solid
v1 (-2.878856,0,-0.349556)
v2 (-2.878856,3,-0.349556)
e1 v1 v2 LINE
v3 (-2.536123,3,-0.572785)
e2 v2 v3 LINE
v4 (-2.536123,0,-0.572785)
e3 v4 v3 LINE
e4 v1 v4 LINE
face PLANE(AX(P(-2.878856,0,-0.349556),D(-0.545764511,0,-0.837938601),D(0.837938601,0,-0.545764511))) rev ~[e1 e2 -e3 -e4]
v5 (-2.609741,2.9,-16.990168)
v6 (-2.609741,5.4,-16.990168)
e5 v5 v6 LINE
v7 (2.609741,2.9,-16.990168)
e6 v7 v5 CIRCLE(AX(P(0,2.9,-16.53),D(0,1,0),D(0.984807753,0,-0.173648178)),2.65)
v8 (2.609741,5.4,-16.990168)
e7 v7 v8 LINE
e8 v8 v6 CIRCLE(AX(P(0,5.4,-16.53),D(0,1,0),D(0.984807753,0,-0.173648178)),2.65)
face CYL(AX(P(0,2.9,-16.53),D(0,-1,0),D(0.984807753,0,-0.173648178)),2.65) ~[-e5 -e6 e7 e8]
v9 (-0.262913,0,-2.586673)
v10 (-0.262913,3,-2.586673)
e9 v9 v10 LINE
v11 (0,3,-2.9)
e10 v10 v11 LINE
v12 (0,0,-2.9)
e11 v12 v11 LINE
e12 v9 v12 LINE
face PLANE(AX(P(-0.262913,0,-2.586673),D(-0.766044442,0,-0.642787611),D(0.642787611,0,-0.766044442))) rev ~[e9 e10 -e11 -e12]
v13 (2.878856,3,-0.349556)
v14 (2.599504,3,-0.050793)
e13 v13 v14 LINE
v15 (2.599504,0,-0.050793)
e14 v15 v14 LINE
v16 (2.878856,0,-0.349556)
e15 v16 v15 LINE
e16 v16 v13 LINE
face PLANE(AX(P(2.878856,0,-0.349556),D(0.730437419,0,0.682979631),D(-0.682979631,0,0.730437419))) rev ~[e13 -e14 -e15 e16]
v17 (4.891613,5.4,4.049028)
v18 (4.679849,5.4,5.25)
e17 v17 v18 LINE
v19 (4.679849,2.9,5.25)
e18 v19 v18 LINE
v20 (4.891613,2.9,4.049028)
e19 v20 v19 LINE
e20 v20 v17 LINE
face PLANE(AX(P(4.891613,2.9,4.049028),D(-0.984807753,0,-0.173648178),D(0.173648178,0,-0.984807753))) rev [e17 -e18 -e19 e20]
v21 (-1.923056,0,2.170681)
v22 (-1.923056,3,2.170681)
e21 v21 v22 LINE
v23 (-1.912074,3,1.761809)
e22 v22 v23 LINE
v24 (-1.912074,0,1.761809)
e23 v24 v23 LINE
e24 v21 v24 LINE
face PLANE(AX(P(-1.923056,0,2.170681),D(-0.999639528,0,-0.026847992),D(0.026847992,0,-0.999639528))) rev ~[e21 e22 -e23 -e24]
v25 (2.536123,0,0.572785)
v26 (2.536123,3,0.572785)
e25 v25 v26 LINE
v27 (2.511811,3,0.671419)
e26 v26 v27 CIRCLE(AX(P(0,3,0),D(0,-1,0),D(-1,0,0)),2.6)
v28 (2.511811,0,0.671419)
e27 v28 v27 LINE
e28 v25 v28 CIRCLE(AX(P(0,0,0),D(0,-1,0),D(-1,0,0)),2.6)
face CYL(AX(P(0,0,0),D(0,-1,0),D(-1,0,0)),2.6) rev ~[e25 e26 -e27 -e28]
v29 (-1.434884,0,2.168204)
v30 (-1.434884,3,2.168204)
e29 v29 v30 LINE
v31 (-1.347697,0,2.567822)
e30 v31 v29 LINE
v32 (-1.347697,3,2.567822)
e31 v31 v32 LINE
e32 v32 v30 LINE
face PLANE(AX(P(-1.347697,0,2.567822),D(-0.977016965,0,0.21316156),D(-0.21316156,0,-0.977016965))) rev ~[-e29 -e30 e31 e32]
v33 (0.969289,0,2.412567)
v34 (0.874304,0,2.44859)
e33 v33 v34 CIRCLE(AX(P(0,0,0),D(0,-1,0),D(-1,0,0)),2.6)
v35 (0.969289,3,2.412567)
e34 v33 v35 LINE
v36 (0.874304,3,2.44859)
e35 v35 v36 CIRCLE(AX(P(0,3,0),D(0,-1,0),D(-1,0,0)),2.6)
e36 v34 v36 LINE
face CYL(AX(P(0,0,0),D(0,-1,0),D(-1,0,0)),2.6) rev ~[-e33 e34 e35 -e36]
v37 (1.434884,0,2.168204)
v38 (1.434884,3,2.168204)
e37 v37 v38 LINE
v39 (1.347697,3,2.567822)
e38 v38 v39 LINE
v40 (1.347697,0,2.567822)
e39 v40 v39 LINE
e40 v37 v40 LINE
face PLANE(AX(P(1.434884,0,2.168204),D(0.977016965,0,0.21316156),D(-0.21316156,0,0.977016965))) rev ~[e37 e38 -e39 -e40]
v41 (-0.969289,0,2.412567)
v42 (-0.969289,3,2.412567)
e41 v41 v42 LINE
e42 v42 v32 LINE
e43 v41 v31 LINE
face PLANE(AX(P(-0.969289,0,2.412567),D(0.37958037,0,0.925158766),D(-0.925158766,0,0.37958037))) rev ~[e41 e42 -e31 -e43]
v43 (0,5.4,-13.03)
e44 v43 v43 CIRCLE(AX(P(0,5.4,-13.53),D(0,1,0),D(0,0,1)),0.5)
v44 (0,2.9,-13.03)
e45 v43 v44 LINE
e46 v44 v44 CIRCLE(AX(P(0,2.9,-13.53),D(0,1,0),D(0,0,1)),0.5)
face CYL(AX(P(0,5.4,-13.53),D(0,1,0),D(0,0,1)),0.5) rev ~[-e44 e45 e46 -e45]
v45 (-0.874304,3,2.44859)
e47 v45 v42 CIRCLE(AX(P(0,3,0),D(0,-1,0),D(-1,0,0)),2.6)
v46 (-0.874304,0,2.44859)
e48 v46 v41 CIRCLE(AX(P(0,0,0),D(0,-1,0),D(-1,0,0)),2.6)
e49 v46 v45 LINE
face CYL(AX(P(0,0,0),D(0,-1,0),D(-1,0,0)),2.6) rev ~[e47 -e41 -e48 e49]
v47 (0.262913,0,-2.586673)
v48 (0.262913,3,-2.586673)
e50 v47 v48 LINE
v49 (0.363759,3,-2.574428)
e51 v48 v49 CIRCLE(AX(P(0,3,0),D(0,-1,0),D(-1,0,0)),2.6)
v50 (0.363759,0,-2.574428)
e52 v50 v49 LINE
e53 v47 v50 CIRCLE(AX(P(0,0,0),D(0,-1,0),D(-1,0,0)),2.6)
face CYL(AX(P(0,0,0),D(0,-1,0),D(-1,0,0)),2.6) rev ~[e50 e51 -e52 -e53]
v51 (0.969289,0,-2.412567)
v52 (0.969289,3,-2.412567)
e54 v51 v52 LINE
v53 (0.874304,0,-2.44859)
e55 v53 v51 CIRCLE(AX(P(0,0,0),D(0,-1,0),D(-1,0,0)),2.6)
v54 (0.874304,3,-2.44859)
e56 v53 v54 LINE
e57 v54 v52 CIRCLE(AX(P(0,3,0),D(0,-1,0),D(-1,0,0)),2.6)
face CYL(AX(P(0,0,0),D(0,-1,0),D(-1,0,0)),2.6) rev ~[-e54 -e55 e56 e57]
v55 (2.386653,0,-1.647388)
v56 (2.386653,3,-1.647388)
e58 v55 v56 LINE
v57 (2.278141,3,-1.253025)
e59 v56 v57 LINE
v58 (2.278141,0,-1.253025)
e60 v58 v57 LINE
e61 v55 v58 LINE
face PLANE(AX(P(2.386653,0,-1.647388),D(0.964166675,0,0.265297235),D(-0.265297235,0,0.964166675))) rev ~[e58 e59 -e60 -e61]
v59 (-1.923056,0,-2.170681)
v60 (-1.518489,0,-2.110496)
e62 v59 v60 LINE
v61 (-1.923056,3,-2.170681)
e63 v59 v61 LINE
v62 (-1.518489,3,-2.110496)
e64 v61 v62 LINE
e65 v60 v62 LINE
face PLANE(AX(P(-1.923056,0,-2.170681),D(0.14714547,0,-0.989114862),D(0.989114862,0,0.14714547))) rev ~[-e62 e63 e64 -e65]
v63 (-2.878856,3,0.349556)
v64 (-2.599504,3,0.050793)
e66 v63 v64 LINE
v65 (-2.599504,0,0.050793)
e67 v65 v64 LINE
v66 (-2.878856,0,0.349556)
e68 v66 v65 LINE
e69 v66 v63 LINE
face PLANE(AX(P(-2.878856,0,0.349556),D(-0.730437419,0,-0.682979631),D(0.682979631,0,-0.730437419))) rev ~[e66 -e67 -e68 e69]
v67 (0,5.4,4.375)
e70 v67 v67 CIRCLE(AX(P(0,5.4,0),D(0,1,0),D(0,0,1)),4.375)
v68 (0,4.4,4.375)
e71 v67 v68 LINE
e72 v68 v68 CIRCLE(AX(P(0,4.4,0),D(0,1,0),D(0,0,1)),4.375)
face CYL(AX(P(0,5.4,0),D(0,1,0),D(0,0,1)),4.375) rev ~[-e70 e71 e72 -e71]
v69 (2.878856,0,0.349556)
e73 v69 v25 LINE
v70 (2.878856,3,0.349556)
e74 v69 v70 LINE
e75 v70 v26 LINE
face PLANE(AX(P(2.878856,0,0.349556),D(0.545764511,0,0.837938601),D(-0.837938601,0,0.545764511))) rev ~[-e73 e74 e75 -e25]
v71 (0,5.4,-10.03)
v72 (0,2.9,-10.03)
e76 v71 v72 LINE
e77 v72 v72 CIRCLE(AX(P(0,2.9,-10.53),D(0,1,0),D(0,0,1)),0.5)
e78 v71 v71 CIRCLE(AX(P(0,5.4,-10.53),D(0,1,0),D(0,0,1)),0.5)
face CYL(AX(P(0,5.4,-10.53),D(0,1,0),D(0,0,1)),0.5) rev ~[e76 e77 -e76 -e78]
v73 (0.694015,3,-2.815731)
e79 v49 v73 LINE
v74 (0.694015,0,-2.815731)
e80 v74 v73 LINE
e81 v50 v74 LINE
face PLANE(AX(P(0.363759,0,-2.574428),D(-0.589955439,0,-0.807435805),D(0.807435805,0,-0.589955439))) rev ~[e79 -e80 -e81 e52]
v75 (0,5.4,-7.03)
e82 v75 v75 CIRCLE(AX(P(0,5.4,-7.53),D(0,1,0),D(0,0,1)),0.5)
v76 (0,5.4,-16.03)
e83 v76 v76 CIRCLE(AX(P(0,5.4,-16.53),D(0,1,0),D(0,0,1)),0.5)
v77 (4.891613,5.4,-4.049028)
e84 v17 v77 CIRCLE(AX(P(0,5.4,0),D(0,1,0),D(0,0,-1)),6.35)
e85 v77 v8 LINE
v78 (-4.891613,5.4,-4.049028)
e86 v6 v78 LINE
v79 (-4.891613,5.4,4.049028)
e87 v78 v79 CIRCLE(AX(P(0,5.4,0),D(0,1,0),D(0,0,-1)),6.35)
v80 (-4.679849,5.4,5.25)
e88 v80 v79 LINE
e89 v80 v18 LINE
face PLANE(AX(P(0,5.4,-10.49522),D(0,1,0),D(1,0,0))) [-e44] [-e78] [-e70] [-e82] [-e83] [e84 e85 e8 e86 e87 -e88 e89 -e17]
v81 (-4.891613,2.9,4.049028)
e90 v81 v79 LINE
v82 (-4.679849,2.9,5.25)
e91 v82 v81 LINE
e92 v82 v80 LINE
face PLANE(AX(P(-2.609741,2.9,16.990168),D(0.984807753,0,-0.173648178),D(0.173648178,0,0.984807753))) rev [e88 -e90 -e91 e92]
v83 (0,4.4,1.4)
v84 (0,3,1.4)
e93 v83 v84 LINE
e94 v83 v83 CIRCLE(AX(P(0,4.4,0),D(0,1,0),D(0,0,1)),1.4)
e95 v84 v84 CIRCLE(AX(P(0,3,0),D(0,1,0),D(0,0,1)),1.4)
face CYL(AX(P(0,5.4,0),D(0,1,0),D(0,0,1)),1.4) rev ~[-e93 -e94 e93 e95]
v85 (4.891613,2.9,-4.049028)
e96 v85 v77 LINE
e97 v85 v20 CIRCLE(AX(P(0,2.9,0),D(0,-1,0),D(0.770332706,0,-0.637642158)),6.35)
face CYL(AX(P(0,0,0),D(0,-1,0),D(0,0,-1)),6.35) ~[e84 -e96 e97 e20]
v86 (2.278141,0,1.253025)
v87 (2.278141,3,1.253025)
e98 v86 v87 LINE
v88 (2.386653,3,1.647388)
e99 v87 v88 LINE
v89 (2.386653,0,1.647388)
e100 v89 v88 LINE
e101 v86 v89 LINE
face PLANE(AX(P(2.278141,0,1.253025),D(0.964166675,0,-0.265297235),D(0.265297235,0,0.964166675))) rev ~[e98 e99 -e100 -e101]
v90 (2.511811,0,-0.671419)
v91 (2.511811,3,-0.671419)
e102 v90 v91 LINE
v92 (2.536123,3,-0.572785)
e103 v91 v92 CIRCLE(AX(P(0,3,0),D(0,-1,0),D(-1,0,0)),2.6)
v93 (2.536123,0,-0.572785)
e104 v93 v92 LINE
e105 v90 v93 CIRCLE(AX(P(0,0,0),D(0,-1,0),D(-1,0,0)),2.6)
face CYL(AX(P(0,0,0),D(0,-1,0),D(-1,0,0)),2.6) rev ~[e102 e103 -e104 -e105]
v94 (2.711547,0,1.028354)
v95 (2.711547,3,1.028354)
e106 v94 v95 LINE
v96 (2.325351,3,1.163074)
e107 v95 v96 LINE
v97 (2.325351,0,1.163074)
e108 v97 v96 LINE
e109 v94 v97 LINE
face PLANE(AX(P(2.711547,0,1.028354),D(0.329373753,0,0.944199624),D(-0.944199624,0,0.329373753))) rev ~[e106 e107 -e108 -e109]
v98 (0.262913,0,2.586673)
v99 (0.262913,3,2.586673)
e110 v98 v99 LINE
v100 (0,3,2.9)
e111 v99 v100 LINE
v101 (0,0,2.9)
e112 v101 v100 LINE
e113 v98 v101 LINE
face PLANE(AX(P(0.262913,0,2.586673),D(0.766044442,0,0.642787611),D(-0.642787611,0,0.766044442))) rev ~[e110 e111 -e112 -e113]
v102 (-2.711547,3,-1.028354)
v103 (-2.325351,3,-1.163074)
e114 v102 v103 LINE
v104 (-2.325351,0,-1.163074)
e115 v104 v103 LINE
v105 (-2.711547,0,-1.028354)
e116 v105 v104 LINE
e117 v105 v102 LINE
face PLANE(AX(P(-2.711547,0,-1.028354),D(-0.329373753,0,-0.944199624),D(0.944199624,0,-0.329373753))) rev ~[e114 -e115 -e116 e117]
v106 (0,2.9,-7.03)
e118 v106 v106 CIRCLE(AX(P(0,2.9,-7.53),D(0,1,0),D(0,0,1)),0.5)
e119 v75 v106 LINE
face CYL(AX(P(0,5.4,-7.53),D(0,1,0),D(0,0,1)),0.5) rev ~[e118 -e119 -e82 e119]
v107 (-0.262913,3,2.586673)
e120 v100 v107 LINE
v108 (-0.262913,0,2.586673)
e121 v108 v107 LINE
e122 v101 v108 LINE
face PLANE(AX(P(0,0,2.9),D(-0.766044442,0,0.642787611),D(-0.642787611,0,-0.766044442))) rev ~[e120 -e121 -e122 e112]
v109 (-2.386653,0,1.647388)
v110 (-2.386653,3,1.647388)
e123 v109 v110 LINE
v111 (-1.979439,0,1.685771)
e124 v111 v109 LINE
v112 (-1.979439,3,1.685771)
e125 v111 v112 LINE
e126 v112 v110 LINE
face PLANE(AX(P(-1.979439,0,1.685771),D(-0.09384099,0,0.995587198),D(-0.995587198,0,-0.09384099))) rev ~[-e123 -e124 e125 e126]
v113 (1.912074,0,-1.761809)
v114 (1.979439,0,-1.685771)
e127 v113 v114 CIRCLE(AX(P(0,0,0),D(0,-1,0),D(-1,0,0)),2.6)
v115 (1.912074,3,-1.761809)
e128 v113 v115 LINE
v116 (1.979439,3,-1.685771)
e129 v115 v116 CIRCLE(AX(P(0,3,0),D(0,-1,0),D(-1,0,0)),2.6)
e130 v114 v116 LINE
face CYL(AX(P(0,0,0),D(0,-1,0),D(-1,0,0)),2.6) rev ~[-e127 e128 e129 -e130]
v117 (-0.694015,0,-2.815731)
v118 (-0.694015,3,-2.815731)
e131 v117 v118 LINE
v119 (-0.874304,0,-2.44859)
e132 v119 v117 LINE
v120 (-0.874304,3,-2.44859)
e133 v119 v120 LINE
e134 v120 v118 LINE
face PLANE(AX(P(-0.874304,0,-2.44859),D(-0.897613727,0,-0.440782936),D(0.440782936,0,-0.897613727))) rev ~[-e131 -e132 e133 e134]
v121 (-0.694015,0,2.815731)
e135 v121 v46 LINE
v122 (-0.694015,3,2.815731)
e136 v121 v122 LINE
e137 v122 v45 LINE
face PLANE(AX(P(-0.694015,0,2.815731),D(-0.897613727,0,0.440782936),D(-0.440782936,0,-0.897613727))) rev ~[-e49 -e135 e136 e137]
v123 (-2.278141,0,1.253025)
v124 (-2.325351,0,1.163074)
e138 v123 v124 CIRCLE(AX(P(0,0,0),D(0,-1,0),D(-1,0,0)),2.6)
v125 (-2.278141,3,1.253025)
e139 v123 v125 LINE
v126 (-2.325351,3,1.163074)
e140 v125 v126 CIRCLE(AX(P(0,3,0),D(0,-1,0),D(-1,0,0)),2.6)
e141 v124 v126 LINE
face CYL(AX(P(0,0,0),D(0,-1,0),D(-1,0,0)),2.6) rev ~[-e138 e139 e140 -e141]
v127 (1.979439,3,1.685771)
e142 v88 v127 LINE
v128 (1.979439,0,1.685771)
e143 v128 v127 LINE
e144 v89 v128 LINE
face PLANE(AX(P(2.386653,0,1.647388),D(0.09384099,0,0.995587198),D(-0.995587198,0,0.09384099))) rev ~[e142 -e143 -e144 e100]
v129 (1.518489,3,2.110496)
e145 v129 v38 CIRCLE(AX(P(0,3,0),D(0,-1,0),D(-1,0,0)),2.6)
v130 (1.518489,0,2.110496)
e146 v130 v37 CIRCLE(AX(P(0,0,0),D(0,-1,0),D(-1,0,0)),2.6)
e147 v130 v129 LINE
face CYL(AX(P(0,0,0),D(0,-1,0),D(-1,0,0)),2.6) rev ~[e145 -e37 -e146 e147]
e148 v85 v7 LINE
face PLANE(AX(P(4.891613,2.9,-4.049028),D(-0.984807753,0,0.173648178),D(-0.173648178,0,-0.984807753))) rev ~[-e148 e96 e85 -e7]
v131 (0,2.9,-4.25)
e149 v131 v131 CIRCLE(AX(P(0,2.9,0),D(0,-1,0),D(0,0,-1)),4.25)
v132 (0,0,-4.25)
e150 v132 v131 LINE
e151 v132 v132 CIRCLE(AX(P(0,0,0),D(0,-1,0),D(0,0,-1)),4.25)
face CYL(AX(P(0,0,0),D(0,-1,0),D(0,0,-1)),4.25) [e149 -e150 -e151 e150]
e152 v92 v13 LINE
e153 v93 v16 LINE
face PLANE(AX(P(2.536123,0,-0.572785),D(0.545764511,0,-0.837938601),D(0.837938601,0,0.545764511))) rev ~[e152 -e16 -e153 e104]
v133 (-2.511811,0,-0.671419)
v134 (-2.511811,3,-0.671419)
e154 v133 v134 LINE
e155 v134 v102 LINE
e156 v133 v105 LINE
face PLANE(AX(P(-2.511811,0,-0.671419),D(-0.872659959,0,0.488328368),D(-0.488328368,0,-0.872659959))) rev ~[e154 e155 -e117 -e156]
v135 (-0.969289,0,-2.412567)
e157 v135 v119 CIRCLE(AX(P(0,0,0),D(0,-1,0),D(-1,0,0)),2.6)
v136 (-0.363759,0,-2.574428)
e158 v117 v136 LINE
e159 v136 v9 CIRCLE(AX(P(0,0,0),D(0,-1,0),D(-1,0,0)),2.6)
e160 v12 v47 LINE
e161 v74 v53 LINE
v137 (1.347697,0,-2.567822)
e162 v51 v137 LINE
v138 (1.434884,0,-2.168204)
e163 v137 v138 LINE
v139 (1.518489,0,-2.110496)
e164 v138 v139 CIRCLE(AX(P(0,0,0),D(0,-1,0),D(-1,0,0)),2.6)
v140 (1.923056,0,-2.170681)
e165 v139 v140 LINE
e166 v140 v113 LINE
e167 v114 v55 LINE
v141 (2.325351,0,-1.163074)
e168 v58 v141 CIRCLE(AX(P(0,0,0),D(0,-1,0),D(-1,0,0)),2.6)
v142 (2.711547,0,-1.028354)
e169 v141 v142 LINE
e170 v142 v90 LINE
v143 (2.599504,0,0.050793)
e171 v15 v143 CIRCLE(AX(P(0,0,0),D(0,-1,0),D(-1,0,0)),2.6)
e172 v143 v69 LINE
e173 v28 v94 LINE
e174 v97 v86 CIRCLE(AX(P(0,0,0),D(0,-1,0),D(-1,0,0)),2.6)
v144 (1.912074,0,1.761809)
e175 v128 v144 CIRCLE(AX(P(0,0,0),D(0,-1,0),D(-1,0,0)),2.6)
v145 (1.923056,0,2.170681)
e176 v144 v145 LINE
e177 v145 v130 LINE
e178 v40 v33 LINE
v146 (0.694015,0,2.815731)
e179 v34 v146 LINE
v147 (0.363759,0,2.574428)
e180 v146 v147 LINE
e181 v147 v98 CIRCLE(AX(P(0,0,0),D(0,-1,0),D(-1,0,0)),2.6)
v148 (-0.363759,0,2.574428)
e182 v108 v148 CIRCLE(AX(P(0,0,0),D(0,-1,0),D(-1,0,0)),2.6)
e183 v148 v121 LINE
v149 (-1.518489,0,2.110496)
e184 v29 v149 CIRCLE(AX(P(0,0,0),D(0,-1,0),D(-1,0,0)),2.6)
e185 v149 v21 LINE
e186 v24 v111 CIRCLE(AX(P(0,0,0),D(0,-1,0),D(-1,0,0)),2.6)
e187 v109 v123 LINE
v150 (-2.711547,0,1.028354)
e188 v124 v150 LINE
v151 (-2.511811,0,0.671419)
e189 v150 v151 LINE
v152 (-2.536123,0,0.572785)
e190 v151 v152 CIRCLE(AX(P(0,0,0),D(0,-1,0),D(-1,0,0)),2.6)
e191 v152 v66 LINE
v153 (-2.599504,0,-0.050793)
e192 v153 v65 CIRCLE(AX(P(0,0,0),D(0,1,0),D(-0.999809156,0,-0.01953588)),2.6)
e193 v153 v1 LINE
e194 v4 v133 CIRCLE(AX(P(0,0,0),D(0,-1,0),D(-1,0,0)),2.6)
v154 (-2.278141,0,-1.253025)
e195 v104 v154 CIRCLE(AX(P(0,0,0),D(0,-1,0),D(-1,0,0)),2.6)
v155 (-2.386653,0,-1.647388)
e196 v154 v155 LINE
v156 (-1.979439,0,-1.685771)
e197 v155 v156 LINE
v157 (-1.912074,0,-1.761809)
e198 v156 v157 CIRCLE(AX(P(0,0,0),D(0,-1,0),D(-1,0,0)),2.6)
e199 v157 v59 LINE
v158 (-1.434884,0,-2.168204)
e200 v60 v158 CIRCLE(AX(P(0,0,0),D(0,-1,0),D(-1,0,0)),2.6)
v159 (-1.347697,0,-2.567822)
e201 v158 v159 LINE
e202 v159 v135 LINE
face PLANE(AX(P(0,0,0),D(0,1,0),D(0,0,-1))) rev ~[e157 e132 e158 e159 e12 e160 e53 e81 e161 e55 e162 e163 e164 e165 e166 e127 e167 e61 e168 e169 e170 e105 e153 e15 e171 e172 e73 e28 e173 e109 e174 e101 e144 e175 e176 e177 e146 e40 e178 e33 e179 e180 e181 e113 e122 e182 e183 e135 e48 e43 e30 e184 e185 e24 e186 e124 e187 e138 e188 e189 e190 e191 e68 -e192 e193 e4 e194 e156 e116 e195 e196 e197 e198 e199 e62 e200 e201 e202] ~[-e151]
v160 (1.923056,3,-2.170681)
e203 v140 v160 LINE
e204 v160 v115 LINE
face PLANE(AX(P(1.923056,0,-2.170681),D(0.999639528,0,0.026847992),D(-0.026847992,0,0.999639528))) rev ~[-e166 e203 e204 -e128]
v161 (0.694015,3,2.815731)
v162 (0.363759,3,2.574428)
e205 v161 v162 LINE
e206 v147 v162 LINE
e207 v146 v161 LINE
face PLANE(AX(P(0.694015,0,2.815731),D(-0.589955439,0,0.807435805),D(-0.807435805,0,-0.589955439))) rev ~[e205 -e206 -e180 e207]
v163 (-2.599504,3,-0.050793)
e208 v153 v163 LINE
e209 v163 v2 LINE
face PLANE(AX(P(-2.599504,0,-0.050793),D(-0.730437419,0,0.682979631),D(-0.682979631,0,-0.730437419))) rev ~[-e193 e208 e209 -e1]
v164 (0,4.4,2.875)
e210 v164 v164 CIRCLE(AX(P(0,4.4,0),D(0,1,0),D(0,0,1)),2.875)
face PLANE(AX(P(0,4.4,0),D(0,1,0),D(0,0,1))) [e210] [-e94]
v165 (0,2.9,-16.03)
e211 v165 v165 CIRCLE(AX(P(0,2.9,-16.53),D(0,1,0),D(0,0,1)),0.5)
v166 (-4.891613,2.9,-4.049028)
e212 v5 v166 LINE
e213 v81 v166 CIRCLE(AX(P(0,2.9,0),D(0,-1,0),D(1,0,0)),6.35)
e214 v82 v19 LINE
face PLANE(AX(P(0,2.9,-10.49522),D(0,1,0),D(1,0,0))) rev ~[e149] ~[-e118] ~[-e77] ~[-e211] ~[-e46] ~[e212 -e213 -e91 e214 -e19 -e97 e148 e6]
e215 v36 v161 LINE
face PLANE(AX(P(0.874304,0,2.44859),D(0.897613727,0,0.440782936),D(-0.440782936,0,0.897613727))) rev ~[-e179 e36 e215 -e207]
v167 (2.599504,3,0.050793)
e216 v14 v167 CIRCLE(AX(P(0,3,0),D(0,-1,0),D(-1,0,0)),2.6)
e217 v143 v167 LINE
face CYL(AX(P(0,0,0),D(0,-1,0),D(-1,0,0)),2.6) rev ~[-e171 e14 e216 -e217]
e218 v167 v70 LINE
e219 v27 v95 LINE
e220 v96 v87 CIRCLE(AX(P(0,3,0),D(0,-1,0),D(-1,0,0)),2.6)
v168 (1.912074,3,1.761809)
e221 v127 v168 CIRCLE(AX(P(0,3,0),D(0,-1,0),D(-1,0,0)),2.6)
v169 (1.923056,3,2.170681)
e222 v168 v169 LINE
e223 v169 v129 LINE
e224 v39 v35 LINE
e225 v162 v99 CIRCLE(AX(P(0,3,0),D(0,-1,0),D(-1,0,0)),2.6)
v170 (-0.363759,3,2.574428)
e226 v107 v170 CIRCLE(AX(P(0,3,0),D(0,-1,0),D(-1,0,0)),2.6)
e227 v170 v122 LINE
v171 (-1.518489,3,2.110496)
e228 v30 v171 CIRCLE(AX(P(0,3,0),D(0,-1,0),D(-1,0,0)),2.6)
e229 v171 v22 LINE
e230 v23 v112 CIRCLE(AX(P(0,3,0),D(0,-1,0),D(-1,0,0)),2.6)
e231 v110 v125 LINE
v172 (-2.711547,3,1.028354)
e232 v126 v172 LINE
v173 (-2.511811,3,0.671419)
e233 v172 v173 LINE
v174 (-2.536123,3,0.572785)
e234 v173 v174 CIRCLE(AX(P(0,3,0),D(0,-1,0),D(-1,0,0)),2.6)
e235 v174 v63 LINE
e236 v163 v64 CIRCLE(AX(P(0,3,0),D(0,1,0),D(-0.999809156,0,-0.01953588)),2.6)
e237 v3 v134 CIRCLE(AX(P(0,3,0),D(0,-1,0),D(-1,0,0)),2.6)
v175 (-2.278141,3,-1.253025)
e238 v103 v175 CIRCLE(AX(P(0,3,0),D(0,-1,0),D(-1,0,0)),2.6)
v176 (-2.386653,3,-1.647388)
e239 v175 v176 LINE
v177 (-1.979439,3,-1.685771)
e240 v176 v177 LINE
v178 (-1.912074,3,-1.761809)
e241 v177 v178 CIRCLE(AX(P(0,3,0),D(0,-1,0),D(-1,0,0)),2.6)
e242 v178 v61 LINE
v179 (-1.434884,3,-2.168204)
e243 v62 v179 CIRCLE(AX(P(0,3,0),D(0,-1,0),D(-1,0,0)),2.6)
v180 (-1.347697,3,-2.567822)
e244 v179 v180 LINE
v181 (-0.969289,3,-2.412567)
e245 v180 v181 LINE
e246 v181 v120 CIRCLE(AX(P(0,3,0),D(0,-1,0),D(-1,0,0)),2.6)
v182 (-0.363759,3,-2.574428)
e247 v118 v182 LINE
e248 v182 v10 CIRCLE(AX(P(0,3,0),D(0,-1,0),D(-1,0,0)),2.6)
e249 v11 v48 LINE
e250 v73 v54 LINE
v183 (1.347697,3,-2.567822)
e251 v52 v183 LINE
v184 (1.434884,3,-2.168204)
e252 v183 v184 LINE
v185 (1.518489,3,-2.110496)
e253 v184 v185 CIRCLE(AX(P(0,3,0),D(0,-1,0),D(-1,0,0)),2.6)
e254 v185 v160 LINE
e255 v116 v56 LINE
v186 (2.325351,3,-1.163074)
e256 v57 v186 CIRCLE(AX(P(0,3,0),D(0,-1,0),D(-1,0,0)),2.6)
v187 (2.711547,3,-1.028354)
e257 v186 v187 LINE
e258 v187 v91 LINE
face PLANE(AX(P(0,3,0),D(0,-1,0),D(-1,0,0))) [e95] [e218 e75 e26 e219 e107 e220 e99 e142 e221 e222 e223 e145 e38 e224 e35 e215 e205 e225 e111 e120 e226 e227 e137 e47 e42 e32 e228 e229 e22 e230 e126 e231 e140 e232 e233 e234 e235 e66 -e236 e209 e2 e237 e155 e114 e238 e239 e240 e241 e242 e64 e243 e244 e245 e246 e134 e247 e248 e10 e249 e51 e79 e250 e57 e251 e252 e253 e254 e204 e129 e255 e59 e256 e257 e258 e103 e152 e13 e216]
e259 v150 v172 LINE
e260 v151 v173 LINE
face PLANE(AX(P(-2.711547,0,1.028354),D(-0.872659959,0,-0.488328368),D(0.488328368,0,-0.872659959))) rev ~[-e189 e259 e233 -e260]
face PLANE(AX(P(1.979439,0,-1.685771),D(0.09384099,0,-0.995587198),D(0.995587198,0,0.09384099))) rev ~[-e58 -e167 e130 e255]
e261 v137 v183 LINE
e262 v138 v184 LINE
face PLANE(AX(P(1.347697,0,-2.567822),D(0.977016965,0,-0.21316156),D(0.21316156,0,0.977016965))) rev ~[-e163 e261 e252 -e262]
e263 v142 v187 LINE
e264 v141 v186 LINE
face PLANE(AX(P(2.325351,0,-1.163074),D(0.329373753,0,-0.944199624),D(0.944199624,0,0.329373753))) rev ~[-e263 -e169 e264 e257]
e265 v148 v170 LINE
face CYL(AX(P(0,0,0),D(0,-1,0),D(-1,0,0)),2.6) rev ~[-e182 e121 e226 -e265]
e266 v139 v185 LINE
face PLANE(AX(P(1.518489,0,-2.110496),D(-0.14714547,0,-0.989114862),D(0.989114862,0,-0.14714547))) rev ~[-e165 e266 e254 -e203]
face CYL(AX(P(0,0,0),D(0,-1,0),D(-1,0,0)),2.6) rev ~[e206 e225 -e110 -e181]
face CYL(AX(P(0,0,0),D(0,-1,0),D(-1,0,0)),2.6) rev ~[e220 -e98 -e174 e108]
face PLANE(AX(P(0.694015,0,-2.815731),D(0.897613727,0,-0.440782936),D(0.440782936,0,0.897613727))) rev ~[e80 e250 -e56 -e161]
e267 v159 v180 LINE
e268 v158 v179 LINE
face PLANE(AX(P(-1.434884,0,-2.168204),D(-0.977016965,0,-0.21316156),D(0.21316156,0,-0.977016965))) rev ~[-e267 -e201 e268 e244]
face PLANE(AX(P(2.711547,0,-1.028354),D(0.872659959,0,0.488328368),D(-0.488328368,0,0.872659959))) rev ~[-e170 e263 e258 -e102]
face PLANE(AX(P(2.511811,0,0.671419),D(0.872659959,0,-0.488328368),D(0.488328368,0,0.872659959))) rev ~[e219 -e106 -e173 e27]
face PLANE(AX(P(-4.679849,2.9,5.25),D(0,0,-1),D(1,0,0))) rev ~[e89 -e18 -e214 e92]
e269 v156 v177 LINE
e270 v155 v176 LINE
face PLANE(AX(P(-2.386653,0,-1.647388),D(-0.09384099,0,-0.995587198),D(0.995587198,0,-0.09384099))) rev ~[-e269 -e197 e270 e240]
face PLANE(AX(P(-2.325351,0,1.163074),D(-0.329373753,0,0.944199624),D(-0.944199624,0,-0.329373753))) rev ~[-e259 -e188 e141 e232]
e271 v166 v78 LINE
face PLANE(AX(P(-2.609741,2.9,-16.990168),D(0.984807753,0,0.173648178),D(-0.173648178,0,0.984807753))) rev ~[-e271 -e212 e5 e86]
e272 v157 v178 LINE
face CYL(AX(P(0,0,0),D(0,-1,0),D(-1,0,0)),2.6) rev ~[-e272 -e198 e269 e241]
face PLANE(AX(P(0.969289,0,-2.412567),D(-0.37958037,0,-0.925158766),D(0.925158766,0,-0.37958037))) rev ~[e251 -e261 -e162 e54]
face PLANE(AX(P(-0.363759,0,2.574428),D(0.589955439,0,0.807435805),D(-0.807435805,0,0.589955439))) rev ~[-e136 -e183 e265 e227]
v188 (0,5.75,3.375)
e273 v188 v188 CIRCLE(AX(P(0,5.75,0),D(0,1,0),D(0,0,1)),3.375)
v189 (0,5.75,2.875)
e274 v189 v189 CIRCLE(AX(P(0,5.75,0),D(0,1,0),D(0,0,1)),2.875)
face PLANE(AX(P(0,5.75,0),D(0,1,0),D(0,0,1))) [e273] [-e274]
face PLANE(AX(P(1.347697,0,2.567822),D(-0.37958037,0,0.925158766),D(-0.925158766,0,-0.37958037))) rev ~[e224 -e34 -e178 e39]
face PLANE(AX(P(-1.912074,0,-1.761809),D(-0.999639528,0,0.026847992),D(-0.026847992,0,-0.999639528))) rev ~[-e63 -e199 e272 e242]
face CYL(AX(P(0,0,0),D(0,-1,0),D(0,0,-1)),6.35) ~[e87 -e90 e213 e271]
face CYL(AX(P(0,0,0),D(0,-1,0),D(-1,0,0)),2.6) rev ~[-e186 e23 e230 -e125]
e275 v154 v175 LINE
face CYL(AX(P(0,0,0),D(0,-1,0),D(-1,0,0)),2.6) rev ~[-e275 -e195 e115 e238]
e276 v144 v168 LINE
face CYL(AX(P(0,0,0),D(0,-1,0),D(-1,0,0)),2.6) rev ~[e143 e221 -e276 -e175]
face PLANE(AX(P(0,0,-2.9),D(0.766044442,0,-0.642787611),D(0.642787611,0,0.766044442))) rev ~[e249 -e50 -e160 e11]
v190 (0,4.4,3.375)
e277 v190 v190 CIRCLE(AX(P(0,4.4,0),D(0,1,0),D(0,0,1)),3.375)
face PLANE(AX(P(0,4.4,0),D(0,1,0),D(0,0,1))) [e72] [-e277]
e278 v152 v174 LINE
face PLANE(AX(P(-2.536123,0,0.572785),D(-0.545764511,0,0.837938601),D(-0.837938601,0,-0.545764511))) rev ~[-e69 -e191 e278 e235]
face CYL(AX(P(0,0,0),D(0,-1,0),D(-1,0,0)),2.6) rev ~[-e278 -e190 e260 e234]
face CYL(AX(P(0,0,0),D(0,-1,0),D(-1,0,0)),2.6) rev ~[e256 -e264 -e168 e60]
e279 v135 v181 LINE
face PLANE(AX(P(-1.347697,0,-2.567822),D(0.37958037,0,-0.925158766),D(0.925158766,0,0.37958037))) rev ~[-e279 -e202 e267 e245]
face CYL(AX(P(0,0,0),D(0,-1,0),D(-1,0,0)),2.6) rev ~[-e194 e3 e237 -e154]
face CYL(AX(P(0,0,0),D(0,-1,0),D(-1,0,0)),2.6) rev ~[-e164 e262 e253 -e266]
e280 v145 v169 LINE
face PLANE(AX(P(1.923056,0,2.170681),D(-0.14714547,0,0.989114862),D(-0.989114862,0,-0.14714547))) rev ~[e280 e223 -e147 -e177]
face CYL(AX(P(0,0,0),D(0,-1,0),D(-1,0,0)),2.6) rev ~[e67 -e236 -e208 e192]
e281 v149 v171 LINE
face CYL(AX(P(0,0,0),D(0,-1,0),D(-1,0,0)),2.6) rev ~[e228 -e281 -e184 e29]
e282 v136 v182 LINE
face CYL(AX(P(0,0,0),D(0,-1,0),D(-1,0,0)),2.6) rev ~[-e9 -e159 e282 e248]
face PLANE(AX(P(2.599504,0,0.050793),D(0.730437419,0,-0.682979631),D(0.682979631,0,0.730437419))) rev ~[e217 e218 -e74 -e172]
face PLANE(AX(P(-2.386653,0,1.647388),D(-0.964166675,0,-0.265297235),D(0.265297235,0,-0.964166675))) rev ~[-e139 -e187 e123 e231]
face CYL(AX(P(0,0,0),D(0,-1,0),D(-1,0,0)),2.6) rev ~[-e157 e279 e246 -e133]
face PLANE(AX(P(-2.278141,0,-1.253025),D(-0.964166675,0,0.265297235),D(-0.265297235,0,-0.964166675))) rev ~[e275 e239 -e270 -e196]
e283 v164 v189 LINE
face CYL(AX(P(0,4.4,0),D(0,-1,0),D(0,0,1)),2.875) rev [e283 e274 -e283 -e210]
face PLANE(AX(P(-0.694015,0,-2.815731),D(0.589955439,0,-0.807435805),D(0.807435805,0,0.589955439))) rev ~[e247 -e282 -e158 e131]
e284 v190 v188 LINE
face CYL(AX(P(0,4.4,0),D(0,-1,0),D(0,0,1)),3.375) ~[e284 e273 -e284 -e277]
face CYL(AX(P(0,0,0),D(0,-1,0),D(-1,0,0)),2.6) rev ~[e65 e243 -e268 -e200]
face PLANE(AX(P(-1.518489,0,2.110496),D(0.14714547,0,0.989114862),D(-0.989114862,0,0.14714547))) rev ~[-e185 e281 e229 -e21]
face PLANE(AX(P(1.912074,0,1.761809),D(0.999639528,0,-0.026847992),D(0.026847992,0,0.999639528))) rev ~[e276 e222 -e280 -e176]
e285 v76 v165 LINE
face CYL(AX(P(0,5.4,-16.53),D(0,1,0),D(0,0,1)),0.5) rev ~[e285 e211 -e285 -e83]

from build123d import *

# Parameters (mm, degrees)
BASES_R                     = 6.35
BASE_DEPTH                  = 5.4
TOPBORES_R                  = 1.4
TOP_BORE_DEPTH              = 11.478788098
HORN_START                  = -2.5
HORN_HALF_DEPTH             = 2.5
HORNATTACHS_R               = 0.5
HORN_ATTACH_DEPTH           = 21.913031822
HA_LP_COUNT                 = 4
HA_LP_PITCH                 = 3
HORN_BODIES_COPY_1_SKETCH_R = 0.5
HORN_BODIES_COPY_1_DEPTH    = 21.913031822
HORN_BODIES_COPY_2_SKETCH_R = 0.5
HORN_BODIES_COPY_2_DEPTH    = 21.913031822
HORN_BODIES_COPY_3_SKETCH_R = 0.5
HORN_BODIES_COPY_3_DEPTH    = 21.913031822
TOOTH_DEPTH                 = 3
TOOTH_CP_COUNT              = 26
BOTTOMBORES_R               = 2.6
BOTTOM_BORE_DEPTH           = 3
HOLDINGSHAFTS_R             = 6.35
HOLDINGSHAFTS_R_2           = 4.25
HOLDING_SHAFT_DEPTH         = 2.9
TOPCUTS_R                   = 4.375
TOP_CUT_DEPTH               = 1
TOPPOCKETCYLINDERS_R        = 3.375
TOPPOCKETCYLINDERS_R_2      = 2.875
TOP_POCKET_CYLINDER_DEPTH   = 1.35
CUT_EXTRUDE1_START          = -2.5
CUT_EXTRUDE1_DEPTH          = 2.5


with BuildPart() as part:
    # BaseS → BASE (new body)
    with BuildSketch(Plane(origin=(0, 0, 0), x_dir=(1, 0, 0), z_dir=(0, 1, 0))):
        with Locations(Location((0, 0, 0), (0, 0, 90))):
            Circle(BASES_R)
    extrude(amount=BASE_DEPTH)

    # TopBoreS → TOP BORE (cut, through all)
    with BuildSketch(Plane(origin=(0, 5.4, 0), x_dir=(1, 0, 0), z_dir=(0, 1, 0))):
        with Locations(Location((0, 0, 0), (0, 0, 270))):
            Circle(TOPBORES_R)
    extrude(amount=-TOP_BORE_DEPTH, mode=Mode.SUBTRACT)

    # HornHalfS → HORN HALF (add)
    with BuildSketch(Plane(origin=(0, 5.4, 0), x_dir=(1, 0, 0), z_dir=(0, 1, 0)).offset(HORN_START)):
        with BuildLine():
            Line((-2.609740545, 16.990167671), (-4.891612682, 4.049027706))
            ThreePointArc((-4.891612682, 4.049027706), (0, 6.35), (4.891612682, 4.049027706))
            Line((4.891612682, 4.049027706), (2.609740545, 16.990167671))
            ThreePointArc((2.609740545, 16.990167671), (0, 19.18), (-2.609740545, 16.990167671))
        make_face()
    horn_half = extrude(amount=HORN_HALF_DEPTH)

    # HornAttachS → HORN ATTACH (cut, through all)
    with BuildSketch(Plane(origin=(0, 5.4, 0), x_dir=(1, 0, 0), z_dir=(0, 1, 0))):
        with Locations(Location((0, 16.53, 0), (0, 0, 270))):
            Circle(HORNATTACHS_R)
    horn_attach = extrude(amount=-HORN_ATTACH_DEPTH, mode=Mode.SUBTRACT)

    # HA LP: HORN ATTACH ×4
    with Locations(*[(0, 0, i * HA_LP_PITCH) for i in range(1, HA_LP_COUNT)]):
        add(horn_attach, mode=Mode.SUBTRACT)

    # HORN BODIES: HORN HALF, HORN ATTACH across plane
    add(horn_half.mirror(Plane.XY))
    add(horn_attach.mirror(Plane.XY), mode=Mode.SUBTRACT)

    # HORN BODIES copy 1 sketch → HORN BODIES copy 1 (cut, through all)
    with BuildSketch(Plane(origin=(0, 5.4, -3), x_dir=(1, 0, 0), z_dir=(0, 1, 0))):
        with Locations((0, -16.53)):
            Circle(HORN_BODIES_COPY_1_SKETCH_R)
    extrude(amount=-HORN_BODIES_COPY_1_DEPTH, mode=Mode.SUBTRACT)

    # HORN BODIES copy 2 sketch → HORN BODIES copy 2 (cut, through all)
    with BuildSketch(Plane(origin=(0, 5.4, -6), x_dir=(1, 0, 0), z_dir=(0, 1, 0))):
        with Locations((0, -16.53)):
            Circle(HORN_BODIES_COPY_2_SKETCH_R)
    extrude(amount=-HORN_BODIES_COPY_2_DEPTH, mode=Mode.SUBTRACT)

    # HORN BODIES copy 3 sketch → HORN BODIES copy 3 (cut, through all)
    with BuildSketch(Plane(origin=(0, 5.4, -9), x_dir=(1, 0, 0), z_dir=(0, 1, 0))):
        with Locations((0, -16.53)):
            Circle(HORN_BODIES_COPY_3_SKETCH_R)
    extrude(amount=-HORN_BODIES_COPY_3_DEPTH, mode=Mode.SUBTRACT)

    # ToothS → TOOTH (cut)
    with BuildSketch(Plane.XZ):
        with BuildLine():
            Line((0, -2.9), (0.262912611, -2.586672952))
            ThreePointArc((0.262912611, -2.586672952), (0, -2.6), (-0.262912611, -2.586672952))
            Line((-0.262912611, -2.586672952), (0, -2.9))
        make_face()
    tooth = extrude(amount=-TOOTH_DEPTH, mode=Mode.SUBTRACT)

    # TOOTH CP: TOOTH ×26 about axis
    tooth_cp_axis = Axis((0, 0, 0), (0, 1, 0))
    for i in range(1, TOOTH_CP_COUNT):
        add(tooth.rotate(tooth_cp_axis, i * 360 / TOOTH_CP_COUNT), mode=Mode.SUBTRACT)

    # BottomBoreS → BOTTOM BORE (cut)
    with BuildSketch(Plane(origin=(0, 0, 0), x_dir=(-1, 0, 0), z_dir=(0, -1, 0))):
        Circle(BOTTOMBORES_R)
    extrude(amount=-BOTTOM_BORE_DEPTH, mode=Mode.SUBTRACT)

    # HoldingShaftS → HOLDING SHAFT (cut)
    with BuildSketch(Plane.XZ):
        Circle(HOLDINGSHAFTS_R)
        with Locations(Location((0, 0, 0), (0, 0, 270))):
            Circle(HOLDINGSHAFTS_R_2, mode=Mode.SUBTRACT)
    extrude(amount=-HOLDING_SHAFT_DEPTH, mode=Mode.SUBTRACT)

    # TopCutS → TOP CUT (cut)
    with BuildSketch(Plane(origin=(0, 5.4, 0), x_dir=(1, 0, 0), z_dir=(0, 1, 0))):
        with Locations(Location((0, 0, 0), (0, 0, 270))):
            Circle(TOPCUTS_R)
    extrude(amount=-TOP_CUT_DEPTH, mode=Mode.SUBTRACT)

    # TopPocketCylinderS → TOP POCKET CYLINDER (add)
    with BuildSketch(Plane(origin=(0, 4.4, 0), x_dir=(1, 0, 0), z_dir=(0, 1, 0))):
        with Locations(Location((0, 0, 0), (0, 0, 270))):
            Circle(TOPPOCKETCYLINDERS_R)
        with Locations(Location((0, 0, 0), (0, 0, 270))):
            Circle(TOPPOCKETCYLINDERS_R_2, mode=Mode.SUBTRACT)
    extrude(amount=TOP_POCKET_CYLINDER_DEPTH)

    # Sketch1 → Cut-Extrude1 (cut)
    with BuildSketch(Plane(origin=(0, 5.4, 0), x_dir=(1, 0, 0), z_dir=(0, 1, 0)).offset(CUT_EXTRUDE1_START)):
        with BuildLine():
            Line((4.679848864, -5.25), (2.609740545, -16.990167671))
            ThreePointArc((2.609740545, -16.990167671), (0, -19.18), (-2.609740545, -16.990167671))
            Line((-2.609740545, -16.990167671), (-4.679848864, -5.25))
            Line((-4.679848864, -5.25), (4.679848864, -5.25))
        make_face()
    extrude(amount=CUT_EXTRUDE1_DEPTH, mode=Mode.SUBTRACT)


solid = part.part
